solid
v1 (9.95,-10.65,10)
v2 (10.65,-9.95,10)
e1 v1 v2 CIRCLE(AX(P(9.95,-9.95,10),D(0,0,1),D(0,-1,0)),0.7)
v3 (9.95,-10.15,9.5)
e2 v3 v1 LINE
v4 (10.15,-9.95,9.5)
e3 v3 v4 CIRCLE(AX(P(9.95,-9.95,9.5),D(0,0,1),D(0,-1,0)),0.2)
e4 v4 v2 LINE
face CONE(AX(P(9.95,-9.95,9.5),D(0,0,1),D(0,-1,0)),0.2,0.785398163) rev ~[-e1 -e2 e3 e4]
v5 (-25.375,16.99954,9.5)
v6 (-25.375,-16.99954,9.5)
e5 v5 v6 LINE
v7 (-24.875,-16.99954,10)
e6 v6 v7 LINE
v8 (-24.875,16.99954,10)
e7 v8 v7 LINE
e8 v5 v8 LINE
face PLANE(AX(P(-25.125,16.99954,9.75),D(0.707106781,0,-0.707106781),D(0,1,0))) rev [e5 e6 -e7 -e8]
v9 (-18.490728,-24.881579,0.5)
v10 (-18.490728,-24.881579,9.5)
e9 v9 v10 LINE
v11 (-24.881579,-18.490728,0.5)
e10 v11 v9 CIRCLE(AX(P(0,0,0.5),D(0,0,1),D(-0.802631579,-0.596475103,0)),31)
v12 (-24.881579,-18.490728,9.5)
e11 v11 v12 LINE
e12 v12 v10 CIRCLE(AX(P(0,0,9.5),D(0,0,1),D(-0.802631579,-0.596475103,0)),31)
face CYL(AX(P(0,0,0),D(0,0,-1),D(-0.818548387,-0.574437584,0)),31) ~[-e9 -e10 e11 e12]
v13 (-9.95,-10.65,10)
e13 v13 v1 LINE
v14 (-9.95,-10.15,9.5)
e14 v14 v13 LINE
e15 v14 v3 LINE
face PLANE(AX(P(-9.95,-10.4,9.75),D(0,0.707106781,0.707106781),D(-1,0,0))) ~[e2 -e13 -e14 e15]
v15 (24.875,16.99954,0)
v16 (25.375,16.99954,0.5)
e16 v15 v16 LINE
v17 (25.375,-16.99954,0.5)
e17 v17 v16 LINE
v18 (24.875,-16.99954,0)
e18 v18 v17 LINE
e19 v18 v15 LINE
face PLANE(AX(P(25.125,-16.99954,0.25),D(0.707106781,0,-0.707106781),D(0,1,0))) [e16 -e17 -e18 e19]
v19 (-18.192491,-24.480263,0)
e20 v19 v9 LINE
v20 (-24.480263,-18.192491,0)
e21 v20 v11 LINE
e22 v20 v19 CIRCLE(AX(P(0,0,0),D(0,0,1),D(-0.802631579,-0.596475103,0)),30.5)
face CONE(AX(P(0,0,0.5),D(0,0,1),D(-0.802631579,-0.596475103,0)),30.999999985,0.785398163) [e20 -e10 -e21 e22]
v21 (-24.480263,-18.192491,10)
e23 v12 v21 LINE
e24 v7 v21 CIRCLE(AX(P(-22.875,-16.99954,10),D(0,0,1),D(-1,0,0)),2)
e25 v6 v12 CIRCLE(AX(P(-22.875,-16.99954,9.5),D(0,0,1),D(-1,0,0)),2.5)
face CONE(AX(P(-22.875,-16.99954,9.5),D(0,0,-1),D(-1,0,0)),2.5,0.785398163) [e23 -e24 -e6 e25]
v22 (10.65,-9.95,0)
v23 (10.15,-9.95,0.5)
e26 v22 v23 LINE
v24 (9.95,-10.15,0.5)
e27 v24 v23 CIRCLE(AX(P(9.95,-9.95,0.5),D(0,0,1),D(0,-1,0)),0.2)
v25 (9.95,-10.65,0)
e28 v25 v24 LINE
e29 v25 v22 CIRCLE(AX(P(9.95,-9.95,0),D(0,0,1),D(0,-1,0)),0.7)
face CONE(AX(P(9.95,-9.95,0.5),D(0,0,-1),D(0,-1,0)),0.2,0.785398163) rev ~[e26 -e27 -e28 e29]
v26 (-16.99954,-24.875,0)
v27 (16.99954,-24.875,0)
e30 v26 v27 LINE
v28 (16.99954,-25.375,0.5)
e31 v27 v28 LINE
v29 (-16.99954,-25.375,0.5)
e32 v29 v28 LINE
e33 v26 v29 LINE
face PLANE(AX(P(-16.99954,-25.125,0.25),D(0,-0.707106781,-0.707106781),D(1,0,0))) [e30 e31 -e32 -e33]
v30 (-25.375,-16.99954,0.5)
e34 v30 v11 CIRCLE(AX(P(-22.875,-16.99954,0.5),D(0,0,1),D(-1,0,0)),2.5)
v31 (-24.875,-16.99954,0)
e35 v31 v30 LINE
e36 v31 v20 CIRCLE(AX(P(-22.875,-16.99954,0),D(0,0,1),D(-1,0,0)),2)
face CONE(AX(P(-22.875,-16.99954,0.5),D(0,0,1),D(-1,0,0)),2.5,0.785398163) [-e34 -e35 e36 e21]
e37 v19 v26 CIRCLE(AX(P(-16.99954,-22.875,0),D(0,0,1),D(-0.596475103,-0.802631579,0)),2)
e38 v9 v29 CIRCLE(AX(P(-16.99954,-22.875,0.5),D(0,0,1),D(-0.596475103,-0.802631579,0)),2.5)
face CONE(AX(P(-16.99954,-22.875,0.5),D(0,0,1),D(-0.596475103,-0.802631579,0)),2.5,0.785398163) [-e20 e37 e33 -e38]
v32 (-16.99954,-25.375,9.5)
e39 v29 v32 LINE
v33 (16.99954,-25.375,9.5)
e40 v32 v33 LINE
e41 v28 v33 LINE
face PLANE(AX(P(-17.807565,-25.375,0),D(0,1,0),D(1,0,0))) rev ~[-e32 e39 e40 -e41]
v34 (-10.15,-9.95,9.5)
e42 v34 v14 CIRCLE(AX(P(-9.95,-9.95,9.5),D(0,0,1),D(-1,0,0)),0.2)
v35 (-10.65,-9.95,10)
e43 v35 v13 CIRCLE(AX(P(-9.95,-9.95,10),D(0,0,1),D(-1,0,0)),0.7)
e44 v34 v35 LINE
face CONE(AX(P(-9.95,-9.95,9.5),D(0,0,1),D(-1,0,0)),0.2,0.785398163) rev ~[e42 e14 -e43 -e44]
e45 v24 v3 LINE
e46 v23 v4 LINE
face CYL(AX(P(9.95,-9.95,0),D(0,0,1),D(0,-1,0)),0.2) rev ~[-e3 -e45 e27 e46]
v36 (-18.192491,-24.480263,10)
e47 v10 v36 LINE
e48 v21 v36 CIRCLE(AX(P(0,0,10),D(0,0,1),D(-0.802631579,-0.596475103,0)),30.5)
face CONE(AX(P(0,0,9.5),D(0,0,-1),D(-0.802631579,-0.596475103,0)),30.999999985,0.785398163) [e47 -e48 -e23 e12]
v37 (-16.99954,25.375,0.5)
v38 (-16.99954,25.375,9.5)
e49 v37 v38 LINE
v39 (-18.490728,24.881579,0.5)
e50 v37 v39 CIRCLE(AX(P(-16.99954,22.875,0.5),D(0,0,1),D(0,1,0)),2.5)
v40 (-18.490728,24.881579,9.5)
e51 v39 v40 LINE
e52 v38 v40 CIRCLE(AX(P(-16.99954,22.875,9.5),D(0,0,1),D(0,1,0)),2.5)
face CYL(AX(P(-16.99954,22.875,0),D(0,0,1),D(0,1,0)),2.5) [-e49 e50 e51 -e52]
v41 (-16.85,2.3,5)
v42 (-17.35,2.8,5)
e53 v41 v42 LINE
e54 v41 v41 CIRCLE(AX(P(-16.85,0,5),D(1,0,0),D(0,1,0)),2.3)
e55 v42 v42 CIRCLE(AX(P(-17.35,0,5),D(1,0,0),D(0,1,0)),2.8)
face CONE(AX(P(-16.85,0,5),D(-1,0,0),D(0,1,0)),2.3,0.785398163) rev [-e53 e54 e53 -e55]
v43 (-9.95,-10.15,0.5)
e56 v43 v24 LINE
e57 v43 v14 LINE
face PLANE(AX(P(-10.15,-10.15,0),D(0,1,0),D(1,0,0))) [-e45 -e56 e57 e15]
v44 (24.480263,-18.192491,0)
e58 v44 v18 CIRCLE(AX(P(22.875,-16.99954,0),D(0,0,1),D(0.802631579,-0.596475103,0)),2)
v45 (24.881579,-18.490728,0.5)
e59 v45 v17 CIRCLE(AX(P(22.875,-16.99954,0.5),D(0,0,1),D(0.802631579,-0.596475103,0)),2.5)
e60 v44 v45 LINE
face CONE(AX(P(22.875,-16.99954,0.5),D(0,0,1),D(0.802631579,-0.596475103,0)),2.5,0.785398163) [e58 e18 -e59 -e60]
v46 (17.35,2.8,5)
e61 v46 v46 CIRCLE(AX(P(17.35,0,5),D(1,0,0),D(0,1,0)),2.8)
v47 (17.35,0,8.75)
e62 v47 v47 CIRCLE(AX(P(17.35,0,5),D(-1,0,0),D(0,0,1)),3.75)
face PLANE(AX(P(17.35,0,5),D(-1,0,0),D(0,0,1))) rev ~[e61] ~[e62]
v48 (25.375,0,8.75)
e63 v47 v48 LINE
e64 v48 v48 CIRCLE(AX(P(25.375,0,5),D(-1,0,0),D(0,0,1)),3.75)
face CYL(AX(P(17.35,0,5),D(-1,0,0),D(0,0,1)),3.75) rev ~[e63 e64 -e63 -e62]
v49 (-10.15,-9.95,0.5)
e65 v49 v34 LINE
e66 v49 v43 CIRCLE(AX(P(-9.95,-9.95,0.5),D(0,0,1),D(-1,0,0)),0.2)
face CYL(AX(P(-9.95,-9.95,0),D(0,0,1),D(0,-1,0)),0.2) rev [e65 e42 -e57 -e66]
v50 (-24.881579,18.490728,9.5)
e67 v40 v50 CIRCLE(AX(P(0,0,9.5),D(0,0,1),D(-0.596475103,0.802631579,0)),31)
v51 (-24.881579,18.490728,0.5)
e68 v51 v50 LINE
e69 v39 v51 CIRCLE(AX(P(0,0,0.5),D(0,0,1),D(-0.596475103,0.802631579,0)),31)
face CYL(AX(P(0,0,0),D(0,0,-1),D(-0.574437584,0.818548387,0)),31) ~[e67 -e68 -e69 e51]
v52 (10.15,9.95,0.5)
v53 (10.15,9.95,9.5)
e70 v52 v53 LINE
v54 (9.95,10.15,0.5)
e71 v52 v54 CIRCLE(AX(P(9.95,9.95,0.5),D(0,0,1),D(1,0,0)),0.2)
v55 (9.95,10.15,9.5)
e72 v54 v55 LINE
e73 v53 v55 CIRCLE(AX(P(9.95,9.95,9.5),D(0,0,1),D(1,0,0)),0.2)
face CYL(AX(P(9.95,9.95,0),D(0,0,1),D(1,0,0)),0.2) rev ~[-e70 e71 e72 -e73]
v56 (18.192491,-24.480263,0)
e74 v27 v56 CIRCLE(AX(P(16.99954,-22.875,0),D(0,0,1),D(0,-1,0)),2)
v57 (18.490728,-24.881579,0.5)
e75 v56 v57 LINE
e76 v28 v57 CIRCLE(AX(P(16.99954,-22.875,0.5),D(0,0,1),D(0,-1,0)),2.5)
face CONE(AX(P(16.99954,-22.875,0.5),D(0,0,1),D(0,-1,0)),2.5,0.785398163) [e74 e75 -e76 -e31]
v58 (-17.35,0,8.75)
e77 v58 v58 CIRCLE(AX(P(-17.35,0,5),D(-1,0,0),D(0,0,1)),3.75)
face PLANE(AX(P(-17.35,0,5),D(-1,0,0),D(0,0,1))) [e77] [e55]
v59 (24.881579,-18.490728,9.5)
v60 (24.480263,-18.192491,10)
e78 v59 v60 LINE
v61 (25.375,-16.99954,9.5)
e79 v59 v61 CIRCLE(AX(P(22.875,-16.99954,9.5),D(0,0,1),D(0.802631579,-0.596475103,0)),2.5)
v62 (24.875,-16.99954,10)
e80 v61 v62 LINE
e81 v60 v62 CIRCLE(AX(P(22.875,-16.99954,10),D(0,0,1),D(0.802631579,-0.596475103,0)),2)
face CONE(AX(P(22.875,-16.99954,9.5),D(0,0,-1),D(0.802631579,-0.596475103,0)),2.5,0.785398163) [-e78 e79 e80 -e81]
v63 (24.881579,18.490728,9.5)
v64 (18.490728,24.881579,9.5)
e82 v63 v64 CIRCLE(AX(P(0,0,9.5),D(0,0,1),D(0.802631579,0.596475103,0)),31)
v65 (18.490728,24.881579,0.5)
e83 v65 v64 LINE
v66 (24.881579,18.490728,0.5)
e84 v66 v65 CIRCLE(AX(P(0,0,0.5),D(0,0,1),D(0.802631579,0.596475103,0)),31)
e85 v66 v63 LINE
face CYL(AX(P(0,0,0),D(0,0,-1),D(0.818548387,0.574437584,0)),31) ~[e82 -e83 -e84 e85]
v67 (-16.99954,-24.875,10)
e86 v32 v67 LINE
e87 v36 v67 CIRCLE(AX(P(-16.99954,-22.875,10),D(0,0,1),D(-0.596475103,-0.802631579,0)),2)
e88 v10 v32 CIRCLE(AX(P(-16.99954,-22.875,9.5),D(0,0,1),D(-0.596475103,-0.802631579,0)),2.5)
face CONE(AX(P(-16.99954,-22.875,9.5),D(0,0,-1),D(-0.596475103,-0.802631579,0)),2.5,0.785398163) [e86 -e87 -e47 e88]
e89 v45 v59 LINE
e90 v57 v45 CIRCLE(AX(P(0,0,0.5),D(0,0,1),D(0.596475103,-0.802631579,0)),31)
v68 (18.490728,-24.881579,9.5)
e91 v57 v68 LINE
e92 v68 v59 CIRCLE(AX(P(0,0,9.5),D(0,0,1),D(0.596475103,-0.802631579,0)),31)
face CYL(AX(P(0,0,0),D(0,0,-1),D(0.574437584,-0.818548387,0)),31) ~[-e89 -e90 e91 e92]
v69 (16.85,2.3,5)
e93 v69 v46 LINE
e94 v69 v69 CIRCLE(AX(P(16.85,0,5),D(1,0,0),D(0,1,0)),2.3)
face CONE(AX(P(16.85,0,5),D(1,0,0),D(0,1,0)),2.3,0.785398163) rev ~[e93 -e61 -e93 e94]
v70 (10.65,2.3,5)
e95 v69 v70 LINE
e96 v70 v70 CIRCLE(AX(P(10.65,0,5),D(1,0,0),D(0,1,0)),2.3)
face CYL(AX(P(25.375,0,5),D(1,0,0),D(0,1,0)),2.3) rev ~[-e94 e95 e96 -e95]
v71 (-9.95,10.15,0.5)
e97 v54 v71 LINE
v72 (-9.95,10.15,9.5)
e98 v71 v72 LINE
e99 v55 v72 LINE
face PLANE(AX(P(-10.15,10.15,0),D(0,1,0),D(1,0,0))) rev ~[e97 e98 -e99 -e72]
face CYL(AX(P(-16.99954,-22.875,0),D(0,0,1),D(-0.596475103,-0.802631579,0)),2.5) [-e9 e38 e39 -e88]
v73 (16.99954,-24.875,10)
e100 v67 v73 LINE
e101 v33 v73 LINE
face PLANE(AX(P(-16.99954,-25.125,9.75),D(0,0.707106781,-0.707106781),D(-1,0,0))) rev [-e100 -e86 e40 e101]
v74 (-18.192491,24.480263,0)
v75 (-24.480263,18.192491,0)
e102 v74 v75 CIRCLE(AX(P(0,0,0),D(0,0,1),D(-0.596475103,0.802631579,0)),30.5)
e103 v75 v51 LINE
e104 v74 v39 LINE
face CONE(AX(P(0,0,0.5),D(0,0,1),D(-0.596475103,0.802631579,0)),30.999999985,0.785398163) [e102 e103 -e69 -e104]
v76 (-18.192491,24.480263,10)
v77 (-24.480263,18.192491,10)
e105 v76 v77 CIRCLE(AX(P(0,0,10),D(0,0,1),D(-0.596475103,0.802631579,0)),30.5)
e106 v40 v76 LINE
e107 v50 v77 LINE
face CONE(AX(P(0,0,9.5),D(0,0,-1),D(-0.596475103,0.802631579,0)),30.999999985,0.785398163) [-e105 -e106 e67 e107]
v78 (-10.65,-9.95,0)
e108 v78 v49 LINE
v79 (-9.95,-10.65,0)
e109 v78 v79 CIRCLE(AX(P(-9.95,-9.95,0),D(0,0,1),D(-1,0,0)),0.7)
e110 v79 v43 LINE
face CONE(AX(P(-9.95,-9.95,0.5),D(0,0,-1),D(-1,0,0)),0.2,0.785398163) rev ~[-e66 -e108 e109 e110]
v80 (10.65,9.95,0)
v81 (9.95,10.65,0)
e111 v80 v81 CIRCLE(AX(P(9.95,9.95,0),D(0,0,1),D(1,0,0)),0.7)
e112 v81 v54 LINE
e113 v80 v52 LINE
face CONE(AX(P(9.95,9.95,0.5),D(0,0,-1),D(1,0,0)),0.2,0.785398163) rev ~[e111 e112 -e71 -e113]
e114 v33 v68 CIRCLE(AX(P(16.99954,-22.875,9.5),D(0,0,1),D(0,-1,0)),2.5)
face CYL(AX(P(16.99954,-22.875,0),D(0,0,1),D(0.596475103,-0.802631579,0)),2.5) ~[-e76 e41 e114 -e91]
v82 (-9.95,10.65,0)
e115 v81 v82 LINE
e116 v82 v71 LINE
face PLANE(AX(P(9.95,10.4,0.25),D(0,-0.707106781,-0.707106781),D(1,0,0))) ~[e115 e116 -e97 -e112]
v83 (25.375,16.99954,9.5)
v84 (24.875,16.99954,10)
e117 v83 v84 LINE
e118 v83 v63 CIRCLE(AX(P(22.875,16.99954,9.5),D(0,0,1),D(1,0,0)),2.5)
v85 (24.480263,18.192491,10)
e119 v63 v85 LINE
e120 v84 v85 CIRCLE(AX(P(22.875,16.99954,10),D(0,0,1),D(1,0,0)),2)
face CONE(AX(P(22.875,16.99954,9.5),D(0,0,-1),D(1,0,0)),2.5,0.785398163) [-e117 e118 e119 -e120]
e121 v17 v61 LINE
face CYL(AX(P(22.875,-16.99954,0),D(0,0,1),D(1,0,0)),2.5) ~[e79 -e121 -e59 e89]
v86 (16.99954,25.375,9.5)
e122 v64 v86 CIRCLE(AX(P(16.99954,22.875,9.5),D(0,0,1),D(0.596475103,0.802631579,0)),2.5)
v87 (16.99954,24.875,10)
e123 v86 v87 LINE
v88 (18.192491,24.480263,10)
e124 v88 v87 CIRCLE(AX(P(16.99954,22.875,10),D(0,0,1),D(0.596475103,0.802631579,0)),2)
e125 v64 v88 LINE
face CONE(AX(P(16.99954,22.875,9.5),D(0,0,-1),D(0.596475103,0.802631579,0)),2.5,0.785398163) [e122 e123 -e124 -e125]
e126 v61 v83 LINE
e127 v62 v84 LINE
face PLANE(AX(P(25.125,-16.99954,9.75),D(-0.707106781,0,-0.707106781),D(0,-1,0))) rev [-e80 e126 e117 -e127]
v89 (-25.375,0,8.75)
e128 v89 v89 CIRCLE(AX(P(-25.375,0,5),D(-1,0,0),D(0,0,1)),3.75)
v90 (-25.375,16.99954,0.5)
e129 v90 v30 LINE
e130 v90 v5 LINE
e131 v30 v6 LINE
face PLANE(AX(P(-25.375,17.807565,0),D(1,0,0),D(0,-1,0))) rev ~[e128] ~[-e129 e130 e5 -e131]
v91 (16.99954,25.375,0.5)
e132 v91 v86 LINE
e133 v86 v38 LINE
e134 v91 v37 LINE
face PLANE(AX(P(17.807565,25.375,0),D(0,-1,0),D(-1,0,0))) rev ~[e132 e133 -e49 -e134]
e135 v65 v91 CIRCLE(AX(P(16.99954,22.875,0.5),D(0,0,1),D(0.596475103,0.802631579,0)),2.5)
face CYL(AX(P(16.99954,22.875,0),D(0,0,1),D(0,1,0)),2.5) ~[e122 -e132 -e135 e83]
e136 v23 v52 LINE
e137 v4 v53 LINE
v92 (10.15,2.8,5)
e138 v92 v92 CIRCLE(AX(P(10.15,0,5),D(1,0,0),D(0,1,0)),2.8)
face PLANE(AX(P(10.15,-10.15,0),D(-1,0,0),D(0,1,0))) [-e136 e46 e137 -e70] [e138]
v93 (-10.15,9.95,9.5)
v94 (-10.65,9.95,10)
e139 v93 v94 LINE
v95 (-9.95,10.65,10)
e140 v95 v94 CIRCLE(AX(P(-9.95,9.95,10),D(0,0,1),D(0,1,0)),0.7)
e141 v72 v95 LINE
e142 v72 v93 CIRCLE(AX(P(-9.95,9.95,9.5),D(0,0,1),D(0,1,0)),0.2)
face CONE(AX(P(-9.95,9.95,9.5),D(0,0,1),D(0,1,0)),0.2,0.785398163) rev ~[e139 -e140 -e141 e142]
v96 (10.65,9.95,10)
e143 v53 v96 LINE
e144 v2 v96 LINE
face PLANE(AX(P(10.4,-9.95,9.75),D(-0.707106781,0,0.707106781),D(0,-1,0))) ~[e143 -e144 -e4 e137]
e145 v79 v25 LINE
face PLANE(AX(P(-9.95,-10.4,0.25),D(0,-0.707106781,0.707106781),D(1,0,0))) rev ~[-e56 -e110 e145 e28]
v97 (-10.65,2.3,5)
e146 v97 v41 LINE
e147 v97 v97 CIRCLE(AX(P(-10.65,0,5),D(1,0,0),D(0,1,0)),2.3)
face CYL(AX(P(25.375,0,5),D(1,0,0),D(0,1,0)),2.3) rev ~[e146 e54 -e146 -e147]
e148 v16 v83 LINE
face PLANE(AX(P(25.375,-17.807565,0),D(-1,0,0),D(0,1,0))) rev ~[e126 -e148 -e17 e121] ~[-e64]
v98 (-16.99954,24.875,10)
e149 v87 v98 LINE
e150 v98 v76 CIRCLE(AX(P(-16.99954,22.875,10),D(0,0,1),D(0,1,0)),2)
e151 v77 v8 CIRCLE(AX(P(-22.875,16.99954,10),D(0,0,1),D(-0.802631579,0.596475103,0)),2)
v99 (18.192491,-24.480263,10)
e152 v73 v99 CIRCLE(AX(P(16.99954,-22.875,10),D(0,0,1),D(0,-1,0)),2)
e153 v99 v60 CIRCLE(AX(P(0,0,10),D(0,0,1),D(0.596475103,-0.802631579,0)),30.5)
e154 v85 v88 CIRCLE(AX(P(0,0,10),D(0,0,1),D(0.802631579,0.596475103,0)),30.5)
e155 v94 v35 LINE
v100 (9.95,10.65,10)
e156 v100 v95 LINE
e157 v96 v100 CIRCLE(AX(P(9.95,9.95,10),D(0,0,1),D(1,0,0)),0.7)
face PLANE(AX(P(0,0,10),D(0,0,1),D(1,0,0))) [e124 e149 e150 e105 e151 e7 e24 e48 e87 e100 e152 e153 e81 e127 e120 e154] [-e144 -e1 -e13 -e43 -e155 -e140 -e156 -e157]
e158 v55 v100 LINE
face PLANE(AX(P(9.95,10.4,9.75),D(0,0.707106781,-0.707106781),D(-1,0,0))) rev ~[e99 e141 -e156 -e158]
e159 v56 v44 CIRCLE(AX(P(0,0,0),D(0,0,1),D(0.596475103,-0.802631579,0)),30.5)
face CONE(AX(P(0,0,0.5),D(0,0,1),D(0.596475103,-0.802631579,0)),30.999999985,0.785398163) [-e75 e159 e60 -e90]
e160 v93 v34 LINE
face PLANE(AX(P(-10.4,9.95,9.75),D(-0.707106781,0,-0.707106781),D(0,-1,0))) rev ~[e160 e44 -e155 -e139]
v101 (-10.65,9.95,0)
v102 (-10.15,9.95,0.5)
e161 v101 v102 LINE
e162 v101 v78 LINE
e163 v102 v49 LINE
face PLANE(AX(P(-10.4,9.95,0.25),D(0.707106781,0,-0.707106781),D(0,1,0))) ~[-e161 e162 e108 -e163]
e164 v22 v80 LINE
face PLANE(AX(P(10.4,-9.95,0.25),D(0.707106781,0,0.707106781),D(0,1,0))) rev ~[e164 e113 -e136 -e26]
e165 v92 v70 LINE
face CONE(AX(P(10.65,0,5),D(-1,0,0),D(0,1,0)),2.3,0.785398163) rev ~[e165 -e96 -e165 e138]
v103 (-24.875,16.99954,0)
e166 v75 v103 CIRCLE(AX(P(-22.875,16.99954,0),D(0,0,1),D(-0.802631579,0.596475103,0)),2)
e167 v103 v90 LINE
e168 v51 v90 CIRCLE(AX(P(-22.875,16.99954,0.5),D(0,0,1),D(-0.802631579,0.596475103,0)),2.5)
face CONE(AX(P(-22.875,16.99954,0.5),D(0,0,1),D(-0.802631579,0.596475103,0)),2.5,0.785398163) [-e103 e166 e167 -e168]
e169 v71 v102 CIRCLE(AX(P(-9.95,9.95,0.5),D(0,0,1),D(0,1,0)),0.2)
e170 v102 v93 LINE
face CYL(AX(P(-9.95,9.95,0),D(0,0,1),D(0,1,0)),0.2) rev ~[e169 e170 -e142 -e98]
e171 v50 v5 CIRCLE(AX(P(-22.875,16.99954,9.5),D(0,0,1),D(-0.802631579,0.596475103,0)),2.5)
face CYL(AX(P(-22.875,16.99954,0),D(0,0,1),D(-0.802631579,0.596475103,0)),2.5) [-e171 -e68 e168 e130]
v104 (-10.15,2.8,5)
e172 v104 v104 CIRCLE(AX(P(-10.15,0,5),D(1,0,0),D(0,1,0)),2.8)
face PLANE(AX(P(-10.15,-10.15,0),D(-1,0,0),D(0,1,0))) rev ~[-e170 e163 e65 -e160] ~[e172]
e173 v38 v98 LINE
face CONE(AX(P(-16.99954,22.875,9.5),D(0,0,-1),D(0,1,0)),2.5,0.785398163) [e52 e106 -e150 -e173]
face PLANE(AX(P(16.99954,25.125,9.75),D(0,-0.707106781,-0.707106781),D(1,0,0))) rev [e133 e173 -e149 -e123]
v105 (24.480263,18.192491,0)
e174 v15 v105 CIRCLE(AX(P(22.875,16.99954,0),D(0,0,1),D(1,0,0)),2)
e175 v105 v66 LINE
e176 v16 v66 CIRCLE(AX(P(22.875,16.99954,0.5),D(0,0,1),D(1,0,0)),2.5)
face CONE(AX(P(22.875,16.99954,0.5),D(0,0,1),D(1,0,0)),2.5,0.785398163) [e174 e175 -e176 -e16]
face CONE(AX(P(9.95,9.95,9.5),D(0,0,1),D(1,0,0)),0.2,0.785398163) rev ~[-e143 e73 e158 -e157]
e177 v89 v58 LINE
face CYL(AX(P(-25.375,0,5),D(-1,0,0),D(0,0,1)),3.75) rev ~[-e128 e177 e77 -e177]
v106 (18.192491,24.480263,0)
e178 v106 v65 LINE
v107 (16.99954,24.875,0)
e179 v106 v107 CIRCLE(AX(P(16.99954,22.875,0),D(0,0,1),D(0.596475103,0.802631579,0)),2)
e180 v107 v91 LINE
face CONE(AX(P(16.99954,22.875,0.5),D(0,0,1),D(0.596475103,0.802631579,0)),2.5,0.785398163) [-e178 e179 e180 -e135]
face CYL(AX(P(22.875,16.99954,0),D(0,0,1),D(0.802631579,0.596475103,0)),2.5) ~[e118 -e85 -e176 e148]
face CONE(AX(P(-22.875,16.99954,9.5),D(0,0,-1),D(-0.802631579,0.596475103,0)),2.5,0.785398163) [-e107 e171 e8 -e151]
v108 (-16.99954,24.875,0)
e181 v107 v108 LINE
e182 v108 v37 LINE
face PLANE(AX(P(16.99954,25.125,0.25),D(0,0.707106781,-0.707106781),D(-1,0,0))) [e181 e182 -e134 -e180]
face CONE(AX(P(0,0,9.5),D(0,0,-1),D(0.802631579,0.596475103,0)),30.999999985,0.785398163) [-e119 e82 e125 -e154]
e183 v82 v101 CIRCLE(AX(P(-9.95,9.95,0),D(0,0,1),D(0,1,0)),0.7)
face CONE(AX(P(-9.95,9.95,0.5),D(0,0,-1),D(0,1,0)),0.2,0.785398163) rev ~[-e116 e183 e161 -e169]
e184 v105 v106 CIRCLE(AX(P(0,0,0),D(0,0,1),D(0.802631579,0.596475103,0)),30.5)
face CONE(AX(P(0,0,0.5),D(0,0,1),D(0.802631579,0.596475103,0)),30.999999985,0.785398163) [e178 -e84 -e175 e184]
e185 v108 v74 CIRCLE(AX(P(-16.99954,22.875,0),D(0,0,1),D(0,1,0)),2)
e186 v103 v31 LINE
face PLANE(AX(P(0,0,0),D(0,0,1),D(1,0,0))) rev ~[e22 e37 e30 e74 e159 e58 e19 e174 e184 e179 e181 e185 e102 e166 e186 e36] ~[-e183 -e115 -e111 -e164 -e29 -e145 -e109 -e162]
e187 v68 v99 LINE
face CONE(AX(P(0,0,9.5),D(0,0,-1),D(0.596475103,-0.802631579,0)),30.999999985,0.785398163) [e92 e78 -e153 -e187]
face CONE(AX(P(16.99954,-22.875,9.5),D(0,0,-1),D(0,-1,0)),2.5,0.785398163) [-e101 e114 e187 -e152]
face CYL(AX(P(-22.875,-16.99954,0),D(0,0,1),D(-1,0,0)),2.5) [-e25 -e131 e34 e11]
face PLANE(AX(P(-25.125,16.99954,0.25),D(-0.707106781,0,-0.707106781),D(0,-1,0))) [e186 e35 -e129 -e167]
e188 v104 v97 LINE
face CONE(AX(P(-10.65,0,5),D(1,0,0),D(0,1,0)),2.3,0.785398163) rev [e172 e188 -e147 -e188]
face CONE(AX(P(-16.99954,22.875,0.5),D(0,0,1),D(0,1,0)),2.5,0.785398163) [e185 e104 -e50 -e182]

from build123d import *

# Parameters (mm, degrees)
SKIZZE1_W                       = 20.3
SKIZZE1_H                       = 20.3
AUFSATZ_LINEAR_AUSTRAGEN1_DEPTH = 10
VERRUNDUNG1_R                   = 0.2
VERRUNDUNG2_R                   = 2.5
SKIZZE2_R                       = 2.3
SCHNITT_LINEAR_AUSTRAGEN1_DEPTH = 58.614695391
SKETCH1_R                       = 3.75
CUT_EXTRUDE1_DEPTH              = 8.025
CUT_EXTRUDE2_START              = -42.725
SKETCH1_2_R                     = 3.75
CUT_EXTRUDE2_DEPTH              = 8.025
FASE2_SIZE                      = 0.5


with BuildPart() as part:
    # Skizze1 → Aufsatz-Linear austragen1 (new body)
    with BuildSketch(Plane.XY):
        with BuildLine():
            Line((17.807565106, 25.375), (-17.807565106, 25.375))
            ThreePointArc((-17.807565106, 25.375), (-21.920310217, 21.920310217), (-25.375, 17.807565106))
            Line((-25.375, 17.807565106), (-25.375, -17.807565106))
            ThreePointArc((-25.375, -17.807565106), (-21.920310217, -21.920310217), (-17.807565106, -25.375))
            Line((-17.807565106, -25.375), (17.807565106, -25.375))
            ThreePointArc((17.807565106, -25.375), (21.920310217, -21.920310217), (25.375, -17.807565106))
            Line((25.375, -17.807565106), (25.375, 17.807565106))
            ThreePointArc((25.375, 17.807565106), (21.920310217, 21.920310217), (17.807565106, 25.375))
        make_face()
        Rectangle(SKIZZE1_W, SKIZZE1_H, mode=Mode.SUBTRACT)
    extrude(amount=AUFSATZ_LINEAR_AUSTRAGEN1_DEPTH)

    # Verrundung1
    verrundung1_edges = [part.edges().sort_by_distance(p)[0] for p in [
        (10.15, -10.15, 5),
        (10.15, 10.15, 5),
        (-10.15, 10.15, 5),
        (-10.15, -10.15, 5),
    ]]
    fillet(verrundung1_edges, radius=VERRUNDUNG1_R)

    # Verrundung2
    verrundung2_edges = [part.edges().sort_by_distance(p)[0] for p in [
        (25.375, 17.807565106, 5),
        (25.375, -17.807565106, 5),
        (17.807565106, -25.375, 5),
        (-17.807565106, -25.375, 5),
        (-25.375, -17.807565106, 5),
        (-25.375, 17.807565106, 5),
        (-17.807565106, 25.375, 5),
        (17.807565106, 25.375, 5),
    ]]
    fillet(verrundung2_edges, radius=VERRUNDUNG2_R)

    # Skizze2 → Schnitt-Linear austragen1 (cut, through all)
    with BuildSketch(Plane(origin=(25.375, 0, 0), x_dir=(0, 0, -1), z_dir=(1, 0, 0))):
        with Locations(Location((-5, 0, 0), (0, 0, 90))):
            Circle(SKIZZE2_R)
    extrude(amount=-SCHNITT_LINEAR_AUSTRAGEN1_DEPTH, mode=Mode.SUBTRACT)

    # Sketch1 → Cut-Extrude1 (cut)
    with BuildSketch(Plane.ZY.offset(25.375)):
        with Locations((5, 0)):
            Circle(SKETCH1_R)
    extrude(amount=-CUT_EXTRUDE1_DEPTH, mode=Mode.SUBTRACT)

    # Sketch1<2> → Cut-Extrude2 (cut)
    with BuildSketch(Plane.ZY.offset(25.375).offset(CUT_EXTRUDE2_START)):
        with Locations((5, 0)):
            Circle(SKETCH1_2_R)
    extrude(amount=-CUT_EXTRUDE2_DEPTH, mode=Mode.SUBTRACT)

    # Fase2
    fase2_edges = [part.edges().sort_by_distance(p)[0] for p in [
        (-10.15, -2.3, 5),
        (10.15, -2.3, 5),
        (-17.35, -2.3, 5),
        (17.35, -2.3, 5),
        (0, -10.15, 0),
        (0, -10.15, 10),
        (10.15, 0, 0),
        (10.15, 0, 10),
        (-10.15, 0, 0),
        (-10.15, 0, 10),
        (0, 10.15, 0),
        (0, 10.15, 10),
        (10.091421356, -10.091421356, 0),
        (10.091421356, -10.091421356, 10),
        (-10.091421356, -10.091421356, 0),
        (-10.091421356, -10.091421356, 10),
        (-10.091421356, 10.091421356, 0),
        (-10.091421356, 10.091421356, 10),
        (10.091421356, 10.091421356, 0),
        (10.091421356, 10.091421356, 10),
        (0, 25.375, 0),
        (0, 25.375, 10),
        (21.920310217, 21.920310217, 0),
        (25.375, 0, 0),
        (21.920310217, -21.920310217, 0),
        (0, -25.375, 0),
        (-21.920310217, -21.920310217, 0),
        (-25.375, 0, 0),
        (-21.920310217, 21.920310217, 0),
        (-17.784891513, 25.248441317, 0),
        (-25.248441317, 17.784891513, 0),
        (-25.248441317, -17.784891513, 0),
        (-17.784891513, -25.248441317, 0),
        (17.784891513, -25.248441317, 0),
        (25.248441317, -17.784891513, 0),
        (25.248441317, 17.784891513, 0),
        (17.784891513, 25.248441317, 0),
        (21.920310217, 21.920310217, 10),
        (-21.920310217, 21.920310217, 10),
        (-25.375, 0, 10),
        (-21.920310217, -21.920310217, 10),
        (0, -25.375, 10),
        (21.920310217, -21.920310217, 10),
        (25.375, 0, 10),
        (-17.784891513, 25.248441317, 10),
        (-25.248441317, 17.784891513, 10),
        (-25.248441317, -17.784891513, 10),
        (-17.784891513, -25.248441317, 10),
        (17.784891513, -25.248441317, 10),
        (25.248441317, -17.784891513, 10),
        (25.248441317, 17.784891513, 10),
        (17.784891513, 25.248441317, 10),
    ]]
    chamfer(fase2_edges, length=FASE2_SIZE)


solid = part.part
